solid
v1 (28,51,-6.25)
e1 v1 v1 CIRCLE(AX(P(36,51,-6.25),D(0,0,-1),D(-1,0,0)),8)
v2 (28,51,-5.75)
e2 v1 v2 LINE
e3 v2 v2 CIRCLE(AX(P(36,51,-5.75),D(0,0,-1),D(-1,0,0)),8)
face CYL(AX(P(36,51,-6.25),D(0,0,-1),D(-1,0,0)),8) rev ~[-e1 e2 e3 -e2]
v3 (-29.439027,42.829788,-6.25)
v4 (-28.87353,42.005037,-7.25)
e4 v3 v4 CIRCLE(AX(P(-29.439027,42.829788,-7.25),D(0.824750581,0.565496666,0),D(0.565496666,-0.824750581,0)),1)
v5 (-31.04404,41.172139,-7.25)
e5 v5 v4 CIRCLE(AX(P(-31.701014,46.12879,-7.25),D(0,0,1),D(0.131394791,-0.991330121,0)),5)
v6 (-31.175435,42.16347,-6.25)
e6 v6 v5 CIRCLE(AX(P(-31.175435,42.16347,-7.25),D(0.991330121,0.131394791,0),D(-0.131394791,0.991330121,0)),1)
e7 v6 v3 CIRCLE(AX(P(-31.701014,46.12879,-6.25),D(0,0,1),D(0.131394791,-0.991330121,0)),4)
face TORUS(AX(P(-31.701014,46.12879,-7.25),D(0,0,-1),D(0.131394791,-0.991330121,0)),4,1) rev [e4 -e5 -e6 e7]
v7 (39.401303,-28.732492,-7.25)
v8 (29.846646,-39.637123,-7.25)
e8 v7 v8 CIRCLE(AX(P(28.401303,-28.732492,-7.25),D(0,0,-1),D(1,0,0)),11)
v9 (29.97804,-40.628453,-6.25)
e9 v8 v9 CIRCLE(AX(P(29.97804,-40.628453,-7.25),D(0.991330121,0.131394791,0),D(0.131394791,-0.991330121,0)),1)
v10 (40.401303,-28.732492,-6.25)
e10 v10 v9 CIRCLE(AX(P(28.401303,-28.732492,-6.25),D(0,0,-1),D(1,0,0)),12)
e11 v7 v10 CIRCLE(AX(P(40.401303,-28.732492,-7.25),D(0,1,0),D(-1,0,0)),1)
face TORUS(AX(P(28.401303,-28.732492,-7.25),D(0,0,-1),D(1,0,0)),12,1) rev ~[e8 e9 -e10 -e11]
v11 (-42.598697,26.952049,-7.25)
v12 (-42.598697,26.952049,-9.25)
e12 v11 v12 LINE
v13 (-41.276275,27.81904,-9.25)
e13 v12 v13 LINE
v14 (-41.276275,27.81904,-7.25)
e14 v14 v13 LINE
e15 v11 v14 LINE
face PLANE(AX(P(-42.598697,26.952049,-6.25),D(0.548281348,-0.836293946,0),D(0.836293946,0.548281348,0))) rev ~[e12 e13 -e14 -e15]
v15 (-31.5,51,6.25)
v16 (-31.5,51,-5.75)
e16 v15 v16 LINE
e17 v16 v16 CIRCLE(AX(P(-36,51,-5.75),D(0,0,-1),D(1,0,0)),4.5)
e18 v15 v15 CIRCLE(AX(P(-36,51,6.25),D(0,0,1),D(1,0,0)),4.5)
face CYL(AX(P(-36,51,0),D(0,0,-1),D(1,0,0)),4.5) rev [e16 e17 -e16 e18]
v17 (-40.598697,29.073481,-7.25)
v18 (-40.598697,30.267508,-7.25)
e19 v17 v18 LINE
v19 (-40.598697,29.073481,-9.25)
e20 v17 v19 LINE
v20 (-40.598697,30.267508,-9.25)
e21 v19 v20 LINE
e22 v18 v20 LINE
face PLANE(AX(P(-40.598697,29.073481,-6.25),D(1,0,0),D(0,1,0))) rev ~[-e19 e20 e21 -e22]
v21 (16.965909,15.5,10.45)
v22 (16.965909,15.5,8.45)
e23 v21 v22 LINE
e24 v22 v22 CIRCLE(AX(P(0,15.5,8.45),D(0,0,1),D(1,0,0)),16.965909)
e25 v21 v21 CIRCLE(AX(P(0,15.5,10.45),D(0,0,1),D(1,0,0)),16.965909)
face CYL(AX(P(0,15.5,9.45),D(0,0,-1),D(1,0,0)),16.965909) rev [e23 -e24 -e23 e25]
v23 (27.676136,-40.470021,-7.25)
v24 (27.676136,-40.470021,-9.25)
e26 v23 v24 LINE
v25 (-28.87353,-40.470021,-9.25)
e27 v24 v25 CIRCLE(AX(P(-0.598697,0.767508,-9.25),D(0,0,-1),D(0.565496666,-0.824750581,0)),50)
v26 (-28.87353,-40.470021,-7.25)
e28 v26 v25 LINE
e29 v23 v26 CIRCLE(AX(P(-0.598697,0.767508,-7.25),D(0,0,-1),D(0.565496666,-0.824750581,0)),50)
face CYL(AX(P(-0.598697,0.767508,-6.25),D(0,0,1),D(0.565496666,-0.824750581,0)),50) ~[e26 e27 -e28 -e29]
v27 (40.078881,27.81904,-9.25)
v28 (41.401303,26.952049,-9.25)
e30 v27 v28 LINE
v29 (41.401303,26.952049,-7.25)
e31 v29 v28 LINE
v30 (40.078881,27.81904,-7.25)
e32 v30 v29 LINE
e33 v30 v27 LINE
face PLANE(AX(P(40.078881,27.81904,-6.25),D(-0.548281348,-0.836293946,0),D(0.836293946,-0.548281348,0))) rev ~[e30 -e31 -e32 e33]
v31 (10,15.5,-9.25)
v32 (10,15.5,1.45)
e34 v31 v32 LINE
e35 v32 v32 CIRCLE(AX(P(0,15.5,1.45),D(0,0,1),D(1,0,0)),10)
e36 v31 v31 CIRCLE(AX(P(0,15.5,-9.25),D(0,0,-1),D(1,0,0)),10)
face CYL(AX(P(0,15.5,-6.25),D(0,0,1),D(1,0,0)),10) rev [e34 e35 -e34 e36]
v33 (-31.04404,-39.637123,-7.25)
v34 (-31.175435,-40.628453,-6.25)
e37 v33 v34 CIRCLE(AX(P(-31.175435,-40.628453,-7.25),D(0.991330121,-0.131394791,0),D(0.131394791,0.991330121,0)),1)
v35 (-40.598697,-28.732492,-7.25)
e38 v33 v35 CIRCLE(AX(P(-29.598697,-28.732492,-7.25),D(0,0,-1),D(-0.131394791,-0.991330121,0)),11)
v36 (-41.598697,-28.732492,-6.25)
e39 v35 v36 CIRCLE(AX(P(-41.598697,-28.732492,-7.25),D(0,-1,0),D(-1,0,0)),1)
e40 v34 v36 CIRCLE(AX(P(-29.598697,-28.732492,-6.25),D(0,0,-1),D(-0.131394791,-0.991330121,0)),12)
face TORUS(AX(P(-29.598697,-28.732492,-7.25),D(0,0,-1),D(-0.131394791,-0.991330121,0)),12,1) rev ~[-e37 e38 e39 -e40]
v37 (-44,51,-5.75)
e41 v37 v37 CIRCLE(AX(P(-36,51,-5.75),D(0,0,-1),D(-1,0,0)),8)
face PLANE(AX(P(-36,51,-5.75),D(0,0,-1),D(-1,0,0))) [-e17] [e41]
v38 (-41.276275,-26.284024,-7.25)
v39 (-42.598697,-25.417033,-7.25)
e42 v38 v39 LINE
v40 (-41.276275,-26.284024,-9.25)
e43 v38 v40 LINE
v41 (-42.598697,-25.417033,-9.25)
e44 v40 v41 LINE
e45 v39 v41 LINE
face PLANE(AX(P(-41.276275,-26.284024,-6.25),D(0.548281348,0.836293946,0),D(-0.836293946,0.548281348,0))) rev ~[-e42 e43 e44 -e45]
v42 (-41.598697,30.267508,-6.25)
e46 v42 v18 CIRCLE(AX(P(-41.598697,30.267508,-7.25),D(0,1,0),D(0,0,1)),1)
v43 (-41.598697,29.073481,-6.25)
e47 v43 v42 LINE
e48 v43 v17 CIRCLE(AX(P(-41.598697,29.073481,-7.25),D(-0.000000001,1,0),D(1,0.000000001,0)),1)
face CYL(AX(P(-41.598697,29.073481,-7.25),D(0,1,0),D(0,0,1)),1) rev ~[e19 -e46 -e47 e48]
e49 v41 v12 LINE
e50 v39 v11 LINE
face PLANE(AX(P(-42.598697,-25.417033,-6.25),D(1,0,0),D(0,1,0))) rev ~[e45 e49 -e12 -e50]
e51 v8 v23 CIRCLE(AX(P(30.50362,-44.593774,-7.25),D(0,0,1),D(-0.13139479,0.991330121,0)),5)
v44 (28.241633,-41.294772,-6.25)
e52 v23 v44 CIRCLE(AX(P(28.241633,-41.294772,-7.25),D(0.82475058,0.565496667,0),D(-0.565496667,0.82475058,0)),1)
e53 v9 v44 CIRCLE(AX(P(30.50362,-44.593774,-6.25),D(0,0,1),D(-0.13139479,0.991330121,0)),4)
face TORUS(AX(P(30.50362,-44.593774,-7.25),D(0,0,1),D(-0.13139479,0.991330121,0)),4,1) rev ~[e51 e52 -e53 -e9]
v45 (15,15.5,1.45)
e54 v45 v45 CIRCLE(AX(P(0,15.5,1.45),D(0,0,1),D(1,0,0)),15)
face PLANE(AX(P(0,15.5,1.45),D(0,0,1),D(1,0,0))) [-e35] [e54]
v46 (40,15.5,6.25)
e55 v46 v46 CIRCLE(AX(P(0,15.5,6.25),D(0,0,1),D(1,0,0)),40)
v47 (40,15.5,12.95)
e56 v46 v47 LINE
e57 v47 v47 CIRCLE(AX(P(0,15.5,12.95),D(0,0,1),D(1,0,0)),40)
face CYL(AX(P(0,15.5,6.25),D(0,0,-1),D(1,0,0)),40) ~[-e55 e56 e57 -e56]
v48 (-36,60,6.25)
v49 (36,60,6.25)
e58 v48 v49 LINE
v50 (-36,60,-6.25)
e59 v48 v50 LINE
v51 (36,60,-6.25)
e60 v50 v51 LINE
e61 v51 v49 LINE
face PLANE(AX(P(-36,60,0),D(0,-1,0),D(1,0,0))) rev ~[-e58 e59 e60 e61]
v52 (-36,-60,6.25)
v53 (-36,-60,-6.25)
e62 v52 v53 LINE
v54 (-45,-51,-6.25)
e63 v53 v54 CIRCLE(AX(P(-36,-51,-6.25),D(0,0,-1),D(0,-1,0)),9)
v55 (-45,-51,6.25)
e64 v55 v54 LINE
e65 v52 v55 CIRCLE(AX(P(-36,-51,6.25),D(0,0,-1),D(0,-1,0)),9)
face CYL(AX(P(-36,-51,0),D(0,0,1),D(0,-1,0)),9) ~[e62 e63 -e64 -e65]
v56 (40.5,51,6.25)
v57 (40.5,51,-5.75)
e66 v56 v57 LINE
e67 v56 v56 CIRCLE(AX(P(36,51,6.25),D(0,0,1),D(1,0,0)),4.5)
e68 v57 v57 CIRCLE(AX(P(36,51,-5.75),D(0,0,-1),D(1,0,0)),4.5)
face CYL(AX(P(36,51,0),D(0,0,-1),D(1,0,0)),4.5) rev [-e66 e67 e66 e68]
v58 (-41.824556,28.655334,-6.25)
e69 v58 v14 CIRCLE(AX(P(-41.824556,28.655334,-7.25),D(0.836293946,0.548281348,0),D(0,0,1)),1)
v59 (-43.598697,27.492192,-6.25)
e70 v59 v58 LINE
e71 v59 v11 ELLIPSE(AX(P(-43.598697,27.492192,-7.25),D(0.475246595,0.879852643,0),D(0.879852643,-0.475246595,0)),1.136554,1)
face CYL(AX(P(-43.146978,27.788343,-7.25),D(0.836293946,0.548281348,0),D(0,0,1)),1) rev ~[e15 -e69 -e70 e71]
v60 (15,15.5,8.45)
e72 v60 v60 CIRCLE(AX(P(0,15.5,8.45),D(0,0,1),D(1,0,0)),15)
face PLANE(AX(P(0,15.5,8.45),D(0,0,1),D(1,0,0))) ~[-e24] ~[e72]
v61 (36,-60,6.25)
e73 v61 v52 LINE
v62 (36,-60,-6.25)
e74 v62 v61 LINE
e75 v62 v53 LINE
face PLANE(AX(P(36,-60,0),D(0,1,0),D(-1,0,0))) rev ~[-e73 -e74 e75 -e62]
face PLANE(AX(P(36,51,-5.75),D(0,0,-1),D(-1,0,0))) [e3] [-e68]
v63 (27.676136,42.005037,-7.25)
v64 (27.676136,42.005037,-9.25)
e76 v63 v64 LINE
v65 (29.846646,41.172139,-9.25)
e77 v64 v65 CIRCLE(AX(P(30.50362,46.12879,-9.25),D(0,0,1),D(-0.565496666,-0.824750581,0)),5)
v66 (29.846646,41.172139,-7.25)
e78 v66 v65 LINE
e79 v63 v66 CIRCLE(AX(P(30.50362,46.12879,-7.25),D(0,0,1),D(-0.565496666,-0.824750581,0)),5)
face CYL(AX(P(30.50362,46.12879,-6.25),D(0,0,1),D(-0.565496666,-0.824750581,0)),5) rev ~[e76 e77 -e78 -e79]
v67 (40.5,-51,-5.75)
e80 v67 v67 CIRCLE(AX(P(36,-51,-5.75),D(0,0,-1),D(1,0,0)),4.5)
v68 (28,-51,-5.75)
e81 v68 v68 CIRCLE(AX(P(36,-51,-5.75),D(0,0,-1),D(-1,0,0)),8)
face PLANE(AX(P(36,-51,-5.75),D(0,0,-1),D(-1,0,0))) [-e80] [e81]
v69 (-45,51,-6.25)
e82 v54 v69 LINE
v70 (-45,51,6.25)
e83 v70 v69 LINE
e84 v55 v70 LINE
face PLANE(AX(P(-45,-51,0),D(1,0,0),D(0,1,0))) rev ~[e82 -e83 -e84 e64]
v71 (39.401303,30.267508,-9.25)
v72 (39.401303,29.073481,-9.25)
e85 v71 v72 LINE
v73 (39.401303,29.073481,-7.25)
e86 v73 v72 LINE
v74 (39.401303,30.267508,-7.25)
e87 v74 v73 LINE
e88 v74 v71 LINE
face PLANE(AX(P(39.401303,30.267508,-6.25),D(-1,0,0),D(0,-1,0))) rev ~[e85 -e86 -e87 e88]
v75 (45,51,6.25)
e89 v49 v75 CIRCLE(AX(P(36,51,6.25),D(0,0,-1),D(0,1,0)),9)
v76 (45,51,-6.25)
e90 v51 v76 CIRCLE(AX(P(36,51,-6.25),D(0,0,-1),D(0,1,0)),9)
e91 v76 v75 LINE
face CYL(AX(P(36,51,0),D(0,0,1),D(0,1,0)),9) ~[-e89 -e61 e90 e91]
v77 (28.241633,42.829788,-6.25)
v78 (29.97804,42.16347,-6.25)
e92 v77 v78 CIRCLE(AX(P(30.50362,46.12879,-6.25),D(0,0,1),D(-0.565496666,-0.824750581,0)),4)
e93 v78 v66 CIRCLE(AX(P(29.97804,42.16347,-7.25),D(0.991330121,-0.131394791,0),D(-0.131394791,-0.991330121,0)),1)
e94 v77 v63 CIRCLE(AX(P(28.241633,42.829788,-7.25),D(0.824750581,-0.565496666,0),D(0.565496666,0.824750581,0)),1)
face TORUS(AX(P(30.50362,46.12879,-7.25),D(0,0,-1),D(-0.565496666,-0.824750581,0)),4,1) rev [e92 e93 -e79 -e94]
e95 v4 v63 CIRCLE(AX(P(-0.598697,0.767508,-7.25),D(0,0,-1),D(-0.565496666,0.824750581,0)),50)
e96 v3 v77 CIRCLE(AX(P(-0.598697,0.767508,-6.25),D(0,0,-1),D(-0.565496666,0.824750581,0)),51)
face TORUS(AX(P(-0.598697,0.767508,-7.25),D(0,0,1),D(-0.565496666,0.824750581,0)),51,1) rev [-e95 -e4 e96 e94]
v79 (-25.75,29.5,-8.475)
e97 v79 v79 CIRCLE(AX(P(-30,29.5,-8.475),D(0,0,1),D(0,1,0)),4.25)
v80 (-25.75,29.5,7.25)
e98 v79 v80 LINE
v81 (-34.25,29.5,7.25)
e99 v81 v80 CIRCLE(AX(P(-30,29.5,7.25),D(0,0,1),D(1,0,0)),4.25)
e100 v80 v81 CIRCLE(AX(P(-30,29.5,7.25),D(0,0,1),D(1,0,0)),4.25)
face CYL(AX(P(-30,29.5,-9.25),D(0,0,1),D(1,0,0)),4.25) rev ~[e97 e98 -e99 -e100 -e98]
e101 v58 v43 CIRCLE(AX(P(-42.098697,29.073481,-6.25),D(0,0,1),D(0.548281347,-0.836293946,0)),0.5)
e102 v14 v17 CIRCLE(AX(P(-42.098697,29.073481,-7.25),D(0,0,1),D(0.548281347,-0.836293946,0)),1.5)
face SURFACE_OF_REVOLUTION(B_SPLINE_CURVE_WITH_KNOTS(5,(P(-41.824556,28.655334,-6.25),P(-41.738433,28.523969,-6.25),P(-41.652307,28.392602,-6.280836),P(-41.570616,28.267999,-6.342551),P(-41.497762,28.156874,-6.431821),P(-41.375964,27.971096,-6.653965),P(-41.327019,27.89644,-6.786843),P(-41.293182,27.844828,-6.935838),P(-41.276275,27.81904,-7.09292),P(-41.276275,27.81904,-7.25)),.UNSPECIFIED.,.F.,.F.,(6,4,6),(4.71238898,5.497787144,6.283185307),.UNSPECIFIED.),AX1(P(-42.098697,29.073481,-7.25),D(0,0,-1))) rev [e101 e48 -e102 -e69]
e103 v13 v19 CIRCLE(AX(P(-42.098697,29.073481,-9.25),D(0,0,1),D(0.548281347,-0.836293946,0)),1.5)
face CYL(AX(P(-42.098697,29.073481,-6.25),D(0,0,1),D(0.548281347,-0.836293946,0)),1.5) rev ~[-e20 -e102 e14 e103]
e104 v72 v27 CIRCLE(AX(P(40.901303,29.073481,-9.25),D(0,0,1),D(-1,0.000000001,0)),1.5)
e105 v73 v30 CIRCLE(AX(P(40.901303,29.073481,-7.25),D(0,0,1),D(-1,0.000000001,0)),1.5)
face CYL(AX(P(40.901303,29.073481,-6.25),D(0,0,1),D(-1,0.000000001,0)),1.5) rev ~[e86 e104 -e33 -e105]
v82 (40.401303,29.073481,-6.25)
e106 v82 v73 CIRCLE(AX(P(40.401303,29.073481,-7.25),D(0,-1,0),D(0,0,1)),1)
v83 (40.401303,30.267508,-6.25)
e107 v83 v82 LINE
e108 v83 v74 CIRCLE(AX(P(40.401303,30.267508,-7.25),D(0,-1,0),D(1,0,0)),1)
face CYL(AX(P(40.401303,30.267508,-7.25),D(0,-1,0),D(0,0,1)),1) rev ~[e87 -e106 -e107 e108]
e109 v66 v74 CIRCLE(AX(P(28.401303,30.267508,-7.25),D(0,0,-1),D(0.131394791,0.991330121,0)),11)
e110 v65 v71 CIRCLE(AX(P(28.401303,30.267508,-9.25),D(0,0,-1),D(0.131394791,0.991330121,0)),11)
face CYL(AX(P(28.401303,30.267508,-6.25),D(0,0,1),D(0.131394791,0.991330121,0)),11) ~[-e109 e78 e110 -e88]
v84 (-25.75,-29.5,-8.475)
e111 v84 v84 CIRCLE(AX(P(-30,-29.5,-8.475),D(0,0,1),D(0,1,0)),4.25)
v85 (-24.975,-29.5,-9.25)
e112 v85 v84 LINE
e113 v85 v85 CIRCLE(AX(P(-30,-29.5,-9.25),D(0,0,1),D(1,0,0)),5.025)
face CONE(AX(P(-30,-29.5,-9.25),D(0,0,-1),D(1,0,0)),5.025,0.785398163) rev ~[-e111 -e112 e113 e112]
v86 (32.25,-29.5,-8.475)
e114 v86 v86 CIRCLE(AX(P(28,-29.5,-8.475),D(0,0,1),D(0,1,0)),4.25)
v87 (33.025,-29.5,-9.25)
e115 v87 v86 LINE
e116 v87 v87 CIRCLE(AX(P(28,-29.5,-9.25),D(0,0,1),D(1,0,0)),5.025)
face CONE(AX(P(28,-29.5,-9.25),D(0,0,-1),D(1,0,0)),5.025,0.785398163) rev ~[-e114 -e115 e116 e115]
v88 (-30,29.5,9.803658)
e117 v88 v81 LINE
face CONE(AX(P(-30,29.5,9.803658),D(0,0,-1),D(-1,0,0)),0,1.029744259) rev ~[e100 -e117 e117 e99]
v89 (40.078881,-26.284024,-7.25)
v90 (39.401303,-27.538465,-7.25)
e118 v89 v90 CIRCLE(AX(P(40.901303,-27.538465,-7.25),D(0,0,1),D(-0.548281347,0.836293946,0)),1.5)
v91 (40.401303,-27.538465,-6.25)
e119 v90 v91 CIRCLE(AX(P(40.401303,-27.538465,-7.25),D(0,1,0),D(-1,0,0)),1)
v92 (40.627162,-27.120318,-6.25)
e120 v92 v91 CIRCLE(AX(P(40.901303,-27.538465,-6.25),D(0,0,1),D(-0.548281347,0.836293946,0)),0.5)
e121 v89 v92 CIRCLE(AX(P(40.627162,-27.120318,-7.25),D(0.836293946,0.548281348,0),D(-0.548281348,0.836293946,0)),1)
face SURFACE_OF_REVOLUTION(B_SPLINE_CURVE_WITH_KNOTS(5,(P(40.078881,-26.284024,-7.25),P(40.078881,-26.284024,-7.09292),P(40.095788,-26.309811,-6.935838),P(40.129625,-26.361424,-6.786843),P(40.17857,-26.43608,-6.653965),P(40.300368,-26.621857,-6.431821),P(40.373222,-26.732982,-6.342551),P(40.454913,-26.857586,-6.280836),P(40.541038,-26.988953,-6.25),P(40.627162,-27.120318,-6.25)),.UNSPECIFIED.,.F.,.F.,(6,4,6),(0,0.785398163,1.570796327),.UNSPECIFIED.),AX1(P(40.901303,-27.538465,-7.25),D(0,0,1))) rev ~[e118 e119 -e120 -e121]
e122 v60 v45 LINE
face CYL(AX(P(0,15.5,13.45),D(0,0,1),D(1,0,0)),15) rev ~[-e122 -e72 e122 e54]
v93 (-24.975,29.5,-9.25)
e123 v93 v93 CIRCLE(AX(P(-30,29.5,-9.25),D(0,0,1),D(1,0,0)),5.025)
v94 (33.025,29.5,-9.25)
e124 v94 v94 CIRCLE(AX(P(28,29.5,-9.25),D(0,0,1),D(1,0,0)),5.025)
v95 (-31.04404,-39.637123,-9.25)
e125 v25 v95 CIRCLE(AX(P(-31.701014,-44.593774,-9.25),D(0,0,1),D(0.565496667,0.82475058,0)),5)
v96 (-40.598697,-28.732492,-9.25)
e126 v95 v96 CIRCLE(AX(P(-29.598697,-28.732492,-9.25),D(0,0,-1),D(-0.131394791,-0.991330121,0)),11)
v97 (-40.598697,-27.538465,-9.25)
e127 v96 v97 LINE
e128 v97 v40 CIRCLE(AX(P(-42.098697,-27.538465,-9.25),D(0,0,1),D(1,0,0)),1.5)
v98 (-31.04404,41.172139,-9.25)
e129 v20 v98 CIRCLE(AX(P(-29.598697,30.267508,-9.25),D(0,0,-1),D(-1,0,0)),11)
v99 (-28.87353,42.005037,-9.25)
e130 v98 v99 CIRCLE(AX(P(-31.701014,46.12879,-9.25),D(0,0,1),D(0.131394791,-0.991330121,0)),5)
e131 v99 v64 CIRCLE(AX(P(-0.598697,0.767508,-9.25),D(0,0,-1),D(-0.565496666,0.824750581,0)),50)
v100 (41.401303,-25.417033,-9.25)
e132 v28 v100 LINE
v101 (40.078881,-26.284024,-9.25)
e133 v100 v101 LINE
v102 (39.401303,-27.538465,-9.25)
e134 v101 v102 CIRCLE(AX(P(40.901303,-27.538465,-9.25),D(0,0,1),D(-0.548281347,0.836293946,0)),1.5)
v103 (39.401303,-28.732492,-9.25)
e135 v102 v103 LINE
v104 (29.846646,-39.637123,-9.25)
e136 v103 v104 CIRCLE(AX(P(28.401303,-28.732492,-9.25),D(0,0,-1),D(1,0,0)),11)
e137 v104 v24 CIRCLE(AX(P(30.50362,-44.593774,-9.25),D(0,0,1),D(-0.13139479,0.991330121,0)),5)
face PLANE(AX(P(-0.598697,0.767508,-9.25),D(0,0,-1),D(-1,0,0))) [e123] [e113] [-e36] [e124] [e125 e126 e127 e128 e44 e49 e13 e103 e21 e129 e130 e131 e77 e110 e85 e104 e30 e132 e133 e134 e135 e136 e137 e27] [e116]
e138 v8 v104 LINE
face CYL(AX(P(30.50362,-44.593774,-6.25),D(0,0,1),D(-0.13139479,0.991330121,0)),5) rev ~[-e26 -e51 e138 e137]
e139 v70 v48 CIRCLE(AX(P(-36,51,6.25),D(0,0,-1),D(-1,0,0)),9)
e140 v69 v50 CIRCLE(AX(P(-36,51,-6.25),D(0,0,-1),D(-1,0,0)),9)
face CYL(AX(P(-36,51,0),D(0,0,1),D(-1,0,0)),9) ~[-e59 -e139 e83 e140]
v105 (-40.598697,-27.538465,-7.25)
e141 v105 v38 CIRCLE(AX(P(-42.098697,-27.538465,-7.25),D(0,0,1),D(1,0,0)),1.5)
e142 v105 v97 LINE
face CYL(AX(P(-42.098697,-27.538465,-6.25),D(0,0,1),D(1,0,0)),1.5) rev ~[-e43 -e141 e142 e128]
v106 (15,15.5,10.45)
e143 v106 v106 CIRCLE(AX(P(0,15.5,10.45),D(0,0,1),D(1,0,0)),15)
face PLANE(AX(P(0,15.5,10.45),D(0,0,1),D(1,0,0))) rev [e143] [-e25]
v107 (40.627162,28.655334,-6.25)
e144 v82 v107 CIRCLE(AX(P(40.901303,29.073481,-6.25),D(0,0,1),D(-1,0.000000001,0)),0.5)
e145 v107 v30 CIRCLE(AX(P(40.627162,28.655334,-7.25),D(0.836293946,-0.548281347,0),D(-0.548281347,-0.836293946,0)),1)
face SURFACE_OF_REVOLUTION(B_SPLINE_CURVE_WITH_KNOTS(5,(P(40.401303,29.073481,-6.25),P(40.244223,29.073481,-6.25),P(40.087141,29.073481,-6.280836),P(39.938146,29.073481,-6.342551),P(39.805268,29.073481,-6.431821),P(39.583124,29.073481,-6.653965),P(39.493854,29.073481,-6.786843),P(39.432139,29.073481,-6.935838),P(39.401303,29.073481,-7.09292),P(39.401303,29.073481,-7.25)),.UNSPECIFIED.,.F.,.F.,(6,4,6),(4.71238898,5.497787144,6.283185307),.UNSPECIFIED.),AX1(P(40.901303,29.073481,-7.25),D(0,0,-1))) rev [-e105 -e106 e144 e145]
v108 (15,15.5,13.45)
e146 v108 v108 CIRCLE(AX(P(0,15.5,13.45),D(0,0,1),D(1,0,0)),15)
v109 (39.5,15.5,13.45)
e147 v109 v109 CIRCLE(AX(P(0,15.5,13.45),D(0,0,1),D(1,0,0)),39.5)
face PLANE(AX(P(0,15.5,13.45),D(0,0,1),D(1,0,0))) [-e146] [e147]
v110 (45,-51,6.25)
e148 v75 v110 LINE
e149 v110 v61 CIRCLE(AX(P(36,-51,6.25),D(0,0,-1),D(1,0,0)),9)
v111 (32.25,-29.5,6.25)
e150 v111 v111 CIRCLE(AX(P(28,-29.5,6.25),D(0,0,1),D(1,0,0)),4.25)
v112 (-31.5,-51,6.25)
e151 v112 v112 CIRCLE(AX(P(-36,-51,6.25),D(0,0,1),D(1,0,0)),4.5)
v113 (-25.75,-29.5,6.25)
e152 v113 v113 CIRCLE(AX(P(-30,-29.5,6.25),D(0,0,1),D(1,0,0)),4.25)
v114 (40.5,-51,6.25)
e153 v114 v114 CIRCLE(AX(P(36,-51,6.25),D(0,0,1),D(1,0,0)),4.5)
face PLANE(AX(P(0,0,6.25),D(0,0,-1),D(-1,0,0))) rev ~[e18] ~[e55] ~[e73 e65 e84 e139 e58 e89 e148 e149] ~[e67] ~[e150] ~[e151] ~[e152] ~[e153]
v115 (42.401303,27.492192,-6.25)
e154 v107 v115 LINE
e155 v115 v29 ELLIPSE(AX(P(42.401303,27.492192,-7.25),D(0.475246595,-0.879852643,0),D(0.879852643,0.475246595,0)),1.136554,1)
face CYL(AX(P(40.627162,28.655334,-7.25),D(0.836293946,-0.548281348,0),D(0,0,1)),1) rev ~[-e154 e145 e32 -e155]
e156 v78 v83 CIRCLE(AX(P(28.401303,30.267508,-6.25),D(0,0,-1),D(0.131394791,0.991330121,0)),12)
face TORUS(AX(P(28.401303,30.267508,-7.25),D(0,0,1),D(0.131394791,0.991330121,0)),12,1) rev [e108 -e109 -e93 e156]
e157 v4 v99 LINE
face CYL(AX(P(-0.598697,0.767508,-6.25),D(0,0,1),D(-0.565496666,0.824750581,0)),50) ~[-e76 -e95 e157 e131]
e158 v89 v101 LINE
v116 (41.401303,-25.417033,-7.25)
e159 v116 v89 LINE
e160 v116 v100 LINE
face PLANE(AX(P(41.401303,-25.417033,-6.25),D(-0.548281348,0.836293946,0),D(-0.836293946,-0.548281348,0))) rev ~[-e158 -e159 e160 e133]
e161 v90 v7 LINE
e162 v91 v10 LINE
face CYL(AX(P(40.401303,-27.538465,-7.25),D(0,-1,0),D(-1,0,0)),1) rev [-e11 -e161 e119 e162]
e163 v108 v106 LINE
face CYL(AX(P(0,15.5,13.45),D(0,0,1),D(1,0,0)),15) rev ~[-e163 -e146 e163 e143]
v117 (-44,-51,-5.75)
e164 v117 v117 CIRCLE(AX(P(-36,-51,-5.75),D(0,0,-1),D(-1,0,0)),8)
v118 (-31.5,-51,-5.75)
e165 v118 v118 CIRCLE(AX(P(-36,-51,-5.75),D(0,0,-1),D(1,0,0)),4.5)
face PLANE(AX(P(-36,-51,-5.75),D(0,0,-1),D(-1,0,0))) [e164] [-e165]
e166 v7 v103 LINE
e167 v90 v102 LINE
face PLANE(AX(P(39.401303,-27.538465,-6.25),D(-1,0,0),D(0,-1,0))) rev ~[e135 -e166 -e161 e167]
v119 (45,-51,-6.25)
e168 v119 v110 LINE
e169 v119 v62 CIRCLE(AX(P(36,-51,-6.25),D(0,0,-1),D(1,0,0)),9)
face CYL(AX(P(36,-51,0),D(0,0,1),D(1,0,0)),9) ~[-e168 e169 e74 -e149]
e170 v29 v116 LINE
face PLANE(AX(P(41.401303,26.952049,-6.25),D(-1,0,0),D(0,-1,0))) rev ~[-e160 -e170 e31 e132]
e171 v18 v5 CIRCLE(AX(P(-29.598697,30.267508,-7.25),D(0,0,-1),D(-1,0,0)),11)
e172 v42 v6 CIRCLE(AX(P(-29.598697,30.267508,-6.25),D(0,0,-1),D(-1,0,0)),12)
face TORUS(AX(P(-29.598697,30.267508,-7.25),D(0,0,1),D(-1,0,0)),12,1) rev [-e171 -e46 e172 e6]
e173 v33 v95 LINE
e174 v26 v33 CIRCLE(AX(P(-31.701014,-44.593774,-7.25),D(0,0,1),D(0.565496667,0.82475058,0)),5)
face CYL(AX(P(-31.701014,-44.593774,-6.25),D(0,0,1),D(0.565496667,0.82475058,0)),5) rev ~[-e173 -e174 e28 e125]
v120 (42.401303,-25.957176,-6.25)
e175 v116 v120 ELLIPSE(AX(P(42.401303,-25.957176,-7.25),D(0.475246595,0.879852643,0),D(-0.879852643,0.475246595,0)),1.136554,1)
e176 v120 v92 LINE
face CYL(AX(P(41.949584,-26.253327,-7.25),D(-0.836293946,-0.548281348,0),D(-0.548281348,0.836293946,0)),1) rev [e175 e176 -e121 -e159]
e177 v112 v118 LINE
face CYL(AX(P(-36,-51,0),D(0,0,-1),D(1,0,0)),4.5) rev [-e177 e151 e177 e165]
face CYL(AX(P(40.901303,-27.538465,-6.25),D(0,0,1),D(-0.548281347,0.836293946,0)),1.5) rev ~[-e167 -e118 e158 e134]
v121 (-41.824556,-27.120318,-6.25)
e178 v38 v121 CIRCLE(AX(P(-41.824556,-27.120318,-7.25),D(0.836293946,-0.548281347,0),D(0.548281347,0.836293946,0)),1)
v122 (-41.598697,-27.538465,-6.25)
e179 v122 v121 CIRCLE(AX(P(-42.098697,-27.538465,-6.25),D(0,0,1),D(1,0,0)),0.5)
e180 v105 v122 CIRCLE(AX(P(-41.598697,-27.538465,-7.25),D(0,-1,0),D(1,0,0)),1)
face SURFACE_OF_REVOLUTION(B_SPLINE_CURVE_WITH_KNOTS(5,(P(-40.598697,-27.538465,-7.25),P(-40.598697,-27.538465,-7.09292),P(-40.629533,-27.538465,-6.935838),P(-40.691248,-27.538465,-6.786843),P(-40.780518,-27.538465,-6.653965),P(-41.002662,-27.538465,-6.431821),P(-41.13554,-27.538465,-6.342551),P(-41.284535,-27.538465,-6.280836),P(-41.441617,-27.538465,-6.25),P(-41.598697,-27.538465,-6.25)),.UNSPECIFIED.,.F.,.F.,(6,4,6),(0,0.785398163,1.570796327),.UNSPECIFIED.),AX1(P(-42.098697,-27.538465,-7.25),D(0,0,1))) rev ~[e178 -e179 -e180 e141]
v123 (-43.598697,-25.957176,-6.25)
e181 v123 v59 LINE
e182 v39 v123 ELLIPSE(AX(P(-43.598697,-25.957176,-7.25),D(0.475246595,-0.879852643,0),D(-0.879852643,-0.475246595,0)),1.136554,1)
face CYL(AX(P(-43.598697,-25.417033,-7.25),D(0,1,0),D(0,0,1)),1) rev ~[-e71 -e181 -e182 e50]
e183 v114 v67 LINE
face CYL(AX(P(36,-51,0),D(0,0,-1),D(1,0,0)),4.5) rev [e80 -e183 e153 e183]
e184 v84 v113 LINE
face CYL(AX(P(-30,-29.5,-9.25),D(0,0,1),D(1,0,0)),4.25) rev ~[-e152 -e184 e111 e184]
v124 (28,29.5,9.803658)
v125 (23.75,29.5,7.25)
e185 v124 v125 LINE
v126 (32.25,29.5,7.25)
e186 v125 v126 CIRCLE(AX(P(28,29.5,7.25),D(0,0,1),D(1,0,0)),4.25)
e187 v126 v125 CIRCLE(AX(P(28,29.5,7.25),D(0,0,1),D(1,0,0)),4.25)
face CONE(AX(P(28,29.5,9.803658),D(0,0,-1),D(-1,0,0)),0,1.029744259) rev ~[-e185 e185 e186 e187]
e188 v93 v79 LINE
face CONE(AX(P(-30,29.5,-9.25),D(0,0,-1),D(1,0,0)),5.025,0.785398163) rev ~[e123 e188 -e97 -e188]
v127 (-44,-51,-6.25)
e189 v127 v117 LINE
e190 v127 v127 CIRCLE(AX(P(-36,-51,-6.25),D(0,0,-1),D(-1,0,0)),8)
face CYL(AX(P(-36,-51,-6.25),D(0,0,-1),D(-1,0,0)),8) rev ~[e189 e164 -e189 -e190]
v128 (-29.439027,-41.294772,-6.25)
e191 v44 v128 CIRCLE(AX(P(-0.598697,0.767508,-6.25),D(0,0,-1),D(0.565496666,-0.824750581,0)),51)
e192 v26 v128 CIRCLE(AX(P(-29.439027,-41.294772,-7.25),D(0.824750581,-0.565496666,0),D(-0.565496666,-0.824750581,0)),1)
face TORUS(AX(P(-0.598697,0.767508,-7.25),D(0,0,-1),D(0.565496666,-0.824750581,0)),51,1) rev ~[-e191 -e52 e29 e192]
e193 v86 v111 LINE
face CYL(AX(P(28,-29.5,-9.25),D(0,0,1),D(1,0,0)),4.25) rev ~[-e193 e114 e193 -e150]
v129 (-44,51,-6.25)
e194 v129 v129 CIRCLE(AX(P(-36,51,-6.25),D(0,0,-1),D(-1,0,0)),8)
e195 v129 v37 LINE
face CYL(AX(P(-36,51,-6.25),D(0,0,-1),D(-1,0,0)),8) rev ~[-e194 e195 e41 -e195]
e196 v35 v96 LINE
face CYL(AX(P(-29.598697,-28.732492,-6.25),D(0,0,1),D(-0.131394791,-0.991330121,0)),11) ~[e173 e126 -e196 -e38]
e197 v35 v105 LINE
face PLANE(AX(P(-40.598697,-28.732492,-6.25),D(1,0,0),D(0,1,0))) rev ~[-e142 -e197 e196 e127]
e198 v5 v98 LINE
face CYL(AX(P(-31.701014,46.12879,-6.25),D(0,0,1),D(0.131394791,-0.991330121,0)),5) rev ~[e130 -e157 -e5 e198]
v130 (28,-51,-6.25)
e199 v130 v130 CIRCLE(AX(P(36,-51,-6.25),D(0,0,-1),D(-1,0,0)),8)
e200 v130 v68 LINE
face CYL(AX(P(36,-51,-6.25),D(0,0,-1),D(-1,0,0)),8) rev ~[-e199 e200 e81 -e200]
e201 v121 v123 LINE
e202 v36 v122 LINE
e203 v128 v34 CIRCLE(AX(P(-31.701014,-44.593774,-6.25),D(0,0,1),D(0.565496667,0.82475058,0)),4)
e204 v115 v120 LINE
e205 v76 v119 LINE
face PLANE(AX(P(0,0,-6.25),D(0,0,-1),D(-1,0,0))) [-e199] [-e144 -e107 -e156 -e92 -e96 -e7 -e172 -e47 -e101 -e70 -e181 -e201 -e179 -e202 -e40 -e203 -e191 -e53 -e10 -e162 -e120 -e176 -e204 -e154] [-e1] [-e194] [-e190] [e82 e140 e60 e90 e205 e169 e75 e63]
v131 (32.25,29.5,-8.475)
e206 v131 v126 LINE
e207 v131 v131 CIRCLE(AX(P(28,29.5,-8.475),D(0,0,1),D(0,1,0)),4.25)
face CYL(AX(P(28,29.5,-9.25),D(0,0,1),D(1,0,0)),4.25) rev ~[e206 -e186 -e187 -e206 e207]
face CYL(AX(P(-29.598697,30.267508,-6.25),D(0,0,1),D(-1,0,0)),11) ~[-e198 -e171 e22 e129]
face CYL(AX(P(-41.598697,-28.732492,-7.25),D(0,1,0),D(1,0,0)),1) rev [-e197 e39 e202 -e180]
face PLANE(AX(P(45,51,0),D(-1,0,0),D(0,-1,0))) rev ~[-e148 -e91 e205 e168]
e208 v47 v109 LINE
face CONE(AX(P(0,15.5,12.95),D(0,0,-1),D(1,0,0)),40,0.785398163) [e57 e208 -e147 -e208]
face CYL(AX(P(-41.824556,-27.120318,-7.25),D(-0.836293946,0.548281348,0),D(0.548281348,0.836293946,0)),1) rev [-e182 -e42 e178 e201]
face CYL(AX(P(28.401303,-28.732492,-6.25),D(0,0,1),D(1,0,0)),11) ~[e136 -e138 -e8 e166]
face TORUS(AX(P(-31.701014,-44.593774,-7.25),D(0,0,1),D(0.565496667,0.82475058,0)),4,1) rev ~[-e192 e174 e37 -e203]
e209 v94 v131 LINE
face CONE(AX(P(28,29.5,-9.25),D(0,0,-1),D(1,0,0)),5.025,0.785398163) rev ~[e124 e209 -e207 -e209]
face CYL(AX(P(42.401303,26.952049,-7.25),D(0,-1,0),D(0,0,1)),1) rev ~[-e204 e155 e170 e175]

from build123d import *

# Parameters (mm, degrees)
IZIM1_R                      = 4.5
Y_KSEKLIK_EKSTR_ZYON1_DEPTH  = 6.25
IZIM2_R                      = 40
Y_KSEKLIK_EKSTR_ZYON2_DEPTH  = 7.2
IZIM3_R                      = 10
KES_EKSTR_ZYON1_DEPTH        = 19.7
IZIM5_R                      = 5.1
IZIM5_R_2                    = 10
Y_KSEKLIK_EKSTR_ZYON4_DEPTH  = 3
RADYUS1_R                    = 1
M10_DI_LI_DELIK1_D           = 8.5
M10_DI_LI_DELIK1_DEPTH       = 16.5
M10_DI_LI_DELIK1_CSINK_D     = 10.05
M10_DI_LI_DELIK1_CSINK_ANGLE = 90
M10_DI_LI_DELIK1_TIP         = 2.553657631
IZIM8_R                      = 8
KES_EKSTR_ZYON2_DEPTH        = 0.5
IZIM9_R                      = 15
KES_EKSTR_ZYON3_DEPTH        = 12
IZIM12_W                     = 2
IZIM12_H                     = 5
PAH1_SIZE                    = 0.5


with BuildPart() as part:
    # Çizim1 → Yükseklik-Ekstrüzyon1 (new, symmetric)
    with BuildSketch(Plane.XY):
        with BuildLine():
            Line((36, -60), (-36, -60))
            ThreePointArc((-36, -60), (-42.363961031, -57.363961031), (-45, -51))
            Line((-45, -51), (-45, 51))
            ThreePointArc((-45, 51), (-42.363961031, 57.363961031), (-36, 60))
            Line((-36, 60), (36, 60))
            ThreePointArc((36, 60), (42.363961031, 57.363961031), (45, 51))
            Line((45, 51), (45, -51))
            ThreePointArc((45, -51), (42.363961031, -57.363961031), (36, -60))
        make_face()
        with Locations((-36, 51)):
            Circle(IZIM1_R, mode=Mode.SUBTRACT)
        with Locations((36, 51)):
            Circle(IZIM1_R, mode=Mode.SUBTRACT)
        with Locations((36, -51)):
            Circle(IZIM1_R, mode=Mode.SUBTRACT)
        with Locations((-36, -51)):
            Circle(IZIM1_R, mode=Mode.SUBTRACT)
    extrude(amount=Y_KSEKLIK_EKSTR_ZYON1_DEPTH, both=True)

    # Çizim2 → Yükseklik-Ekstrüzyon2 (add)
    with BuildSketch(Plane.XY.offset(6.25)):
        with Locations((0, 15.5)):
            Circle(IZIM2_R)
    extrude(amount=Y_KSEKLIK_EKSTR_ZYON2_DEPTH)

    # Çizim3 → Kes-Ekstrüzyon1 (cut)
    with BuildSketch(Plane.XY.offset(13.45)):
        with Locations((0, 15.5)):
            Circle(IZIM3_R)
    extrude(amount=-KES_EKSTR_ZYON1_DEPTH, mode=Mode.SUBTRACT)

    # Çizim5 → Yükseklik-Ekstrüzyon4 (add)
    # profile 1 of 5: a face of its own
    with BuildSketch(Plane(origin=(0, 0, -6.25), x_dir=(-1, 0, 0), z_dir=(0, 0, -1))):
        with BuildLine():
            ThreePointArc((-27.67613629, -40.470020932), (0.598697028, -49.232491897), (28.873530346, -40.470020932))
            ThreePointArc((28.873530346, -40.470020932), (29.909704021, -39.925668254), (31.044039725, -39.637123229))
            ThreePointArc((31.044039725, -39.637123229), (37.872111368, -35.981672207), (40.598697028, -28.732491897))
            Line((40.598697028, -28.732491897), (40.598697028, -27.538464678))
            ThreePointArc((40.598697028, -27.538464678), (40.778918063, -26.825594786), (41.276275007, -26.28402376))
            Line((41.276275007, -26.28402376), (42.598697028, -25.417032756))
            Line((42.598697028, -25.417032756), (42.598697028, 26.952048961))
            Line((42.598697028, 26.952048961), (41.276275007, 27.819039965))
            ThreePointArc((41.276275007, 27.819039965), (40.778918063, 28.360610991), (40.598697028, 29.073480884))
            Line((40.598697028, 29.073480884), (40.598697028, 30.267508103))
            ThreePointArc((40.598697028, 30.267508103), (37.872111368, 37.516688413), (31.044039725, 41.172139435))
            ThreePointArc((31.044039725, 41.172139435), (29.909704021, 41.46068446), (28.873530346, 42.005037137))
            ThreePointArc((28.873530346, 42.005037137), (0.598697028, 50.767508103), (-27.67613629, 42.005037137))
            ThreePointArc((-27.67613629, 42.005037137), (-28.712309964, 41.46068446), (-29.846645668, 41.172139435))
            ThreePointArc((-29.846645668, 41.172139435), (-36.674717311, 37.516688413), (-39.401302972, 30.267508103))
            Line((-39.401302972, 30.267508103), (-39.401302972, 29.073480884))
            ThreePointArc((-39.401302972, 29.073480884), (-39.581524007, 28.360610991), (-40.078880951, 27.819039965))
            Line((-40.078880951, 27.819039965), (-41.401302972, 26.952048961))
            Line((-41.401302972, 26.952048961), (-41.401302972, -25.417032756))
            Line((-41.401302972, -25.417032756), (-40.078880951, -26.28402376))
            ThreePointArc((-40.078880951, -26.28402376), (-39.581524007, -26.825594786), (-39.401302972, -27.538464678))
            Line((-39.401302972, -27.538464678), (-39.401302972, -28.732491897))
            ThreePointArc((-39.401302972, -28.732491897), (-36.674717311, -35.981672207), (-29.846645668, -39.637123229))
            ThreePointArc((-29.846645668, -39.637123229), (-28.712309964, -39.925668254), (-27.67613629, -40.470020932))
        make_face()
        with Locations((-28.401302972, 30.267508103)):
            Circle(IZIM5_R, mode=Mode.SUBTRACT)
        with Locations((29.598697028, 30.267508103)):
            Circle(IZIM5_R, mode=Mode.SUBTRACT)
        with Locations((-28.401302972, -28.732491897)):
            Circle(IZIM5_R, mode=Mode.SUBTRACT)
        with Locations((29.598697028, -28.732491897)):
            Circle(IZIM5_R, mode=Mode.SUBTRACT)
        with Locations(Location((0, 15.5, 0), (0, 0, 180))):
            Circle(IZIM5_R_2, mode=Mode.SUBTRACT)
    # profile 2 of 5: a face of its own
    with BuildSketch(Plane(origin=(0, 0, -6.25), x_dir=(-1, 0, 0), z_dir=(0, 0, -1))):
        with Locations((-28.401302972, -28.732491897)):
            Circle(IZIM5_R)
    # profile 3 of 5: a face of its own
    with BuildSketch(Plane(origin=(0, 0, -6.25), x_dir=(-1, 0, 0), z_dir=(0, 0, -1))):
        with Locations((29.598697028, -28.732491897)):
            Circle(IZIM5_R)
    # profile 4 of 5: a face of its own
    with BuildSketch(Plane(origin=(0, 0, -6.25), x_dir=(-1, 0, 0), z_dir=(0, 0, -1))):
        with Locations((29.598697028, 30.267508103)):
            Circle(IZIM5_R)
    # profile 5 of 5: a face of its own
    with BuildSketch(Plane(origin=(0, 0, -6.25), x_dir=(-1, 0, 0), z_dir=(0, 0, -1))):
        with Locations((-28.401302972, 30.267508103)):
            Circle(IZIM5_R)
    extrude(amount=Y_KSEKLIK_EKSTR_ZYON4_DEPTH)

    # Radyus1
    radyus1_edges = [part.edges().sort_by_distance(p)[0] for p in [
        (-0.598697028, -49.232491897, -6.25),
        (-29.909704021, -39.925668254, -6.25),
        (-37.872111368, -35.981672207, -6.25),
        (-40.598697028, -28.135478288, -6.25),
        (-40.778918063, -26.825594786, -6.25),
        (-41.937486018, -25.850528258, -6.25),
        (28.712309964, 41.46068446, -6.25),
        (36.674717311, 37.516688413, -6.25),
        (39.401302972, 29.670494493, -6.25),
        (39.581524007, 28.360610991, -6.25),
        (40.740091961, 27.385544463, -6.25),
        (41.401302972, 0.767508103, -6.25),
        (28.712309964, -39.925668254, -6.25),
        (36.674717311, -35.981672207, -6.25),
        (39.401302972, -28.135478288, -6.25),
        (39.581524007, -26.825594786, -6.25),
        (40.740091961, -25.850528258, -6.25),
        (-0.598697028, 50.767508103, -6.25),
        (-29.909704021, 41.46068446, -6.25),
        (-37.872111368, 37.516688413, -6.25),
        (-40.598697028, 29.670494493, -6.25),
        (-40.778918063, 28.360610991, -6.25),
        (-41.937486018, 27.385544463, -6.25),
        (-42.598697028, 0.767508103, -6.25),
    ]]
    fillet(radyus1_edges, radius=RADYUS1_R)

    # M10 Dişli Delik1
    with Locations(Plane(origin=(0, 0, -9.25), x_dir=(-1, 0, 0), z_dir=(0, 0, -1))):
        with Locations((-28, 29.5), (30, 29.5), (30, -29.5), (-28, -29.5)):
            CounterSinkHole(M10_DI_LI_DELIK1_D / 2, M10_DI_LI_DELIK1_CSINK_D / 2, depth=M10_DI_LI_DELIK1_DEPTH, counter_sink_angle=M10_DI_LI_DELIK1_CSINK_ANGLE)
            with Locations((0, 0, -(M10_DI_LI_DELIK1_DEPTH + M10_DI_LI_DELIK1_TIP / 2))):  # 118° drill point
                Cone(0, M10_DI_LI_DELIK1_D / 2, M10_DI_LI_DELIK1_TIP, mode=Mode.SUBTRACT)

    # Çizim8 → Kes-Ekstrüzyon2 (cut)
    with BuildSketch(Plane(origin=(0, 0, -6.25), x_dir=(-1, 0, 0), z_dir=(0, 0, -1))):
        with Locations((-36, -51)):
            Circle(IZIM8_R)
        with Locations((36, -51)):
            Circle(IZIM8_R)
        with Locations((36, 51)):
            Circle(IZIM8_R)
        with Locations((-36, 51)):
            Circle(IZIM8_R)
    extrude(amount=-KES_EKSTR_ZYON2_DEPTH, mode=Mode.SUBTRACT)

    # Çizim9 → Kes-Ekstrüzyon3 (cut)
    with BuildSketch(Plane.XY.offset(13.45)):
        with Locations((0, 15.5)):
            Circle(IZIM9_R)
    extrude(amount=-KES_EKSTR_ZYON3_DEPTH, mode=Mode.SUBTRACT)

    # Çizim12 → Kes-Döndür1 (revolve, cut)
    with BuildSketch(Plane(origin=(0, 0, 0), x_dir=(0, 0, -1), z_dir=(1, 0, 0)), mode=Mode.PRIVATE) as kes_d_nd_r1_sk:
        with Locations((-9.45, 29.965908827)):
            Rectangle(IZIM12_W, IZIM12_H)
    revolve(kes_d_nd_r1_sk.sketch.rotate(Axis((0, 15.5, -23.6616227), (0, 0, 1)), 270), axis=Axis((0, 15.5, -23.6616227), (0, 0, 1)), mode=Mode.SUBTRACT)

    # Pah1
    pah1_edges = [part.edges().sort_by_distance(p)[0] for p in [
        (-40, 15.5, 13.45),
    ]]
    chamfer(pah1_edges, length=PAH1_SIZE)


solid = part.part
